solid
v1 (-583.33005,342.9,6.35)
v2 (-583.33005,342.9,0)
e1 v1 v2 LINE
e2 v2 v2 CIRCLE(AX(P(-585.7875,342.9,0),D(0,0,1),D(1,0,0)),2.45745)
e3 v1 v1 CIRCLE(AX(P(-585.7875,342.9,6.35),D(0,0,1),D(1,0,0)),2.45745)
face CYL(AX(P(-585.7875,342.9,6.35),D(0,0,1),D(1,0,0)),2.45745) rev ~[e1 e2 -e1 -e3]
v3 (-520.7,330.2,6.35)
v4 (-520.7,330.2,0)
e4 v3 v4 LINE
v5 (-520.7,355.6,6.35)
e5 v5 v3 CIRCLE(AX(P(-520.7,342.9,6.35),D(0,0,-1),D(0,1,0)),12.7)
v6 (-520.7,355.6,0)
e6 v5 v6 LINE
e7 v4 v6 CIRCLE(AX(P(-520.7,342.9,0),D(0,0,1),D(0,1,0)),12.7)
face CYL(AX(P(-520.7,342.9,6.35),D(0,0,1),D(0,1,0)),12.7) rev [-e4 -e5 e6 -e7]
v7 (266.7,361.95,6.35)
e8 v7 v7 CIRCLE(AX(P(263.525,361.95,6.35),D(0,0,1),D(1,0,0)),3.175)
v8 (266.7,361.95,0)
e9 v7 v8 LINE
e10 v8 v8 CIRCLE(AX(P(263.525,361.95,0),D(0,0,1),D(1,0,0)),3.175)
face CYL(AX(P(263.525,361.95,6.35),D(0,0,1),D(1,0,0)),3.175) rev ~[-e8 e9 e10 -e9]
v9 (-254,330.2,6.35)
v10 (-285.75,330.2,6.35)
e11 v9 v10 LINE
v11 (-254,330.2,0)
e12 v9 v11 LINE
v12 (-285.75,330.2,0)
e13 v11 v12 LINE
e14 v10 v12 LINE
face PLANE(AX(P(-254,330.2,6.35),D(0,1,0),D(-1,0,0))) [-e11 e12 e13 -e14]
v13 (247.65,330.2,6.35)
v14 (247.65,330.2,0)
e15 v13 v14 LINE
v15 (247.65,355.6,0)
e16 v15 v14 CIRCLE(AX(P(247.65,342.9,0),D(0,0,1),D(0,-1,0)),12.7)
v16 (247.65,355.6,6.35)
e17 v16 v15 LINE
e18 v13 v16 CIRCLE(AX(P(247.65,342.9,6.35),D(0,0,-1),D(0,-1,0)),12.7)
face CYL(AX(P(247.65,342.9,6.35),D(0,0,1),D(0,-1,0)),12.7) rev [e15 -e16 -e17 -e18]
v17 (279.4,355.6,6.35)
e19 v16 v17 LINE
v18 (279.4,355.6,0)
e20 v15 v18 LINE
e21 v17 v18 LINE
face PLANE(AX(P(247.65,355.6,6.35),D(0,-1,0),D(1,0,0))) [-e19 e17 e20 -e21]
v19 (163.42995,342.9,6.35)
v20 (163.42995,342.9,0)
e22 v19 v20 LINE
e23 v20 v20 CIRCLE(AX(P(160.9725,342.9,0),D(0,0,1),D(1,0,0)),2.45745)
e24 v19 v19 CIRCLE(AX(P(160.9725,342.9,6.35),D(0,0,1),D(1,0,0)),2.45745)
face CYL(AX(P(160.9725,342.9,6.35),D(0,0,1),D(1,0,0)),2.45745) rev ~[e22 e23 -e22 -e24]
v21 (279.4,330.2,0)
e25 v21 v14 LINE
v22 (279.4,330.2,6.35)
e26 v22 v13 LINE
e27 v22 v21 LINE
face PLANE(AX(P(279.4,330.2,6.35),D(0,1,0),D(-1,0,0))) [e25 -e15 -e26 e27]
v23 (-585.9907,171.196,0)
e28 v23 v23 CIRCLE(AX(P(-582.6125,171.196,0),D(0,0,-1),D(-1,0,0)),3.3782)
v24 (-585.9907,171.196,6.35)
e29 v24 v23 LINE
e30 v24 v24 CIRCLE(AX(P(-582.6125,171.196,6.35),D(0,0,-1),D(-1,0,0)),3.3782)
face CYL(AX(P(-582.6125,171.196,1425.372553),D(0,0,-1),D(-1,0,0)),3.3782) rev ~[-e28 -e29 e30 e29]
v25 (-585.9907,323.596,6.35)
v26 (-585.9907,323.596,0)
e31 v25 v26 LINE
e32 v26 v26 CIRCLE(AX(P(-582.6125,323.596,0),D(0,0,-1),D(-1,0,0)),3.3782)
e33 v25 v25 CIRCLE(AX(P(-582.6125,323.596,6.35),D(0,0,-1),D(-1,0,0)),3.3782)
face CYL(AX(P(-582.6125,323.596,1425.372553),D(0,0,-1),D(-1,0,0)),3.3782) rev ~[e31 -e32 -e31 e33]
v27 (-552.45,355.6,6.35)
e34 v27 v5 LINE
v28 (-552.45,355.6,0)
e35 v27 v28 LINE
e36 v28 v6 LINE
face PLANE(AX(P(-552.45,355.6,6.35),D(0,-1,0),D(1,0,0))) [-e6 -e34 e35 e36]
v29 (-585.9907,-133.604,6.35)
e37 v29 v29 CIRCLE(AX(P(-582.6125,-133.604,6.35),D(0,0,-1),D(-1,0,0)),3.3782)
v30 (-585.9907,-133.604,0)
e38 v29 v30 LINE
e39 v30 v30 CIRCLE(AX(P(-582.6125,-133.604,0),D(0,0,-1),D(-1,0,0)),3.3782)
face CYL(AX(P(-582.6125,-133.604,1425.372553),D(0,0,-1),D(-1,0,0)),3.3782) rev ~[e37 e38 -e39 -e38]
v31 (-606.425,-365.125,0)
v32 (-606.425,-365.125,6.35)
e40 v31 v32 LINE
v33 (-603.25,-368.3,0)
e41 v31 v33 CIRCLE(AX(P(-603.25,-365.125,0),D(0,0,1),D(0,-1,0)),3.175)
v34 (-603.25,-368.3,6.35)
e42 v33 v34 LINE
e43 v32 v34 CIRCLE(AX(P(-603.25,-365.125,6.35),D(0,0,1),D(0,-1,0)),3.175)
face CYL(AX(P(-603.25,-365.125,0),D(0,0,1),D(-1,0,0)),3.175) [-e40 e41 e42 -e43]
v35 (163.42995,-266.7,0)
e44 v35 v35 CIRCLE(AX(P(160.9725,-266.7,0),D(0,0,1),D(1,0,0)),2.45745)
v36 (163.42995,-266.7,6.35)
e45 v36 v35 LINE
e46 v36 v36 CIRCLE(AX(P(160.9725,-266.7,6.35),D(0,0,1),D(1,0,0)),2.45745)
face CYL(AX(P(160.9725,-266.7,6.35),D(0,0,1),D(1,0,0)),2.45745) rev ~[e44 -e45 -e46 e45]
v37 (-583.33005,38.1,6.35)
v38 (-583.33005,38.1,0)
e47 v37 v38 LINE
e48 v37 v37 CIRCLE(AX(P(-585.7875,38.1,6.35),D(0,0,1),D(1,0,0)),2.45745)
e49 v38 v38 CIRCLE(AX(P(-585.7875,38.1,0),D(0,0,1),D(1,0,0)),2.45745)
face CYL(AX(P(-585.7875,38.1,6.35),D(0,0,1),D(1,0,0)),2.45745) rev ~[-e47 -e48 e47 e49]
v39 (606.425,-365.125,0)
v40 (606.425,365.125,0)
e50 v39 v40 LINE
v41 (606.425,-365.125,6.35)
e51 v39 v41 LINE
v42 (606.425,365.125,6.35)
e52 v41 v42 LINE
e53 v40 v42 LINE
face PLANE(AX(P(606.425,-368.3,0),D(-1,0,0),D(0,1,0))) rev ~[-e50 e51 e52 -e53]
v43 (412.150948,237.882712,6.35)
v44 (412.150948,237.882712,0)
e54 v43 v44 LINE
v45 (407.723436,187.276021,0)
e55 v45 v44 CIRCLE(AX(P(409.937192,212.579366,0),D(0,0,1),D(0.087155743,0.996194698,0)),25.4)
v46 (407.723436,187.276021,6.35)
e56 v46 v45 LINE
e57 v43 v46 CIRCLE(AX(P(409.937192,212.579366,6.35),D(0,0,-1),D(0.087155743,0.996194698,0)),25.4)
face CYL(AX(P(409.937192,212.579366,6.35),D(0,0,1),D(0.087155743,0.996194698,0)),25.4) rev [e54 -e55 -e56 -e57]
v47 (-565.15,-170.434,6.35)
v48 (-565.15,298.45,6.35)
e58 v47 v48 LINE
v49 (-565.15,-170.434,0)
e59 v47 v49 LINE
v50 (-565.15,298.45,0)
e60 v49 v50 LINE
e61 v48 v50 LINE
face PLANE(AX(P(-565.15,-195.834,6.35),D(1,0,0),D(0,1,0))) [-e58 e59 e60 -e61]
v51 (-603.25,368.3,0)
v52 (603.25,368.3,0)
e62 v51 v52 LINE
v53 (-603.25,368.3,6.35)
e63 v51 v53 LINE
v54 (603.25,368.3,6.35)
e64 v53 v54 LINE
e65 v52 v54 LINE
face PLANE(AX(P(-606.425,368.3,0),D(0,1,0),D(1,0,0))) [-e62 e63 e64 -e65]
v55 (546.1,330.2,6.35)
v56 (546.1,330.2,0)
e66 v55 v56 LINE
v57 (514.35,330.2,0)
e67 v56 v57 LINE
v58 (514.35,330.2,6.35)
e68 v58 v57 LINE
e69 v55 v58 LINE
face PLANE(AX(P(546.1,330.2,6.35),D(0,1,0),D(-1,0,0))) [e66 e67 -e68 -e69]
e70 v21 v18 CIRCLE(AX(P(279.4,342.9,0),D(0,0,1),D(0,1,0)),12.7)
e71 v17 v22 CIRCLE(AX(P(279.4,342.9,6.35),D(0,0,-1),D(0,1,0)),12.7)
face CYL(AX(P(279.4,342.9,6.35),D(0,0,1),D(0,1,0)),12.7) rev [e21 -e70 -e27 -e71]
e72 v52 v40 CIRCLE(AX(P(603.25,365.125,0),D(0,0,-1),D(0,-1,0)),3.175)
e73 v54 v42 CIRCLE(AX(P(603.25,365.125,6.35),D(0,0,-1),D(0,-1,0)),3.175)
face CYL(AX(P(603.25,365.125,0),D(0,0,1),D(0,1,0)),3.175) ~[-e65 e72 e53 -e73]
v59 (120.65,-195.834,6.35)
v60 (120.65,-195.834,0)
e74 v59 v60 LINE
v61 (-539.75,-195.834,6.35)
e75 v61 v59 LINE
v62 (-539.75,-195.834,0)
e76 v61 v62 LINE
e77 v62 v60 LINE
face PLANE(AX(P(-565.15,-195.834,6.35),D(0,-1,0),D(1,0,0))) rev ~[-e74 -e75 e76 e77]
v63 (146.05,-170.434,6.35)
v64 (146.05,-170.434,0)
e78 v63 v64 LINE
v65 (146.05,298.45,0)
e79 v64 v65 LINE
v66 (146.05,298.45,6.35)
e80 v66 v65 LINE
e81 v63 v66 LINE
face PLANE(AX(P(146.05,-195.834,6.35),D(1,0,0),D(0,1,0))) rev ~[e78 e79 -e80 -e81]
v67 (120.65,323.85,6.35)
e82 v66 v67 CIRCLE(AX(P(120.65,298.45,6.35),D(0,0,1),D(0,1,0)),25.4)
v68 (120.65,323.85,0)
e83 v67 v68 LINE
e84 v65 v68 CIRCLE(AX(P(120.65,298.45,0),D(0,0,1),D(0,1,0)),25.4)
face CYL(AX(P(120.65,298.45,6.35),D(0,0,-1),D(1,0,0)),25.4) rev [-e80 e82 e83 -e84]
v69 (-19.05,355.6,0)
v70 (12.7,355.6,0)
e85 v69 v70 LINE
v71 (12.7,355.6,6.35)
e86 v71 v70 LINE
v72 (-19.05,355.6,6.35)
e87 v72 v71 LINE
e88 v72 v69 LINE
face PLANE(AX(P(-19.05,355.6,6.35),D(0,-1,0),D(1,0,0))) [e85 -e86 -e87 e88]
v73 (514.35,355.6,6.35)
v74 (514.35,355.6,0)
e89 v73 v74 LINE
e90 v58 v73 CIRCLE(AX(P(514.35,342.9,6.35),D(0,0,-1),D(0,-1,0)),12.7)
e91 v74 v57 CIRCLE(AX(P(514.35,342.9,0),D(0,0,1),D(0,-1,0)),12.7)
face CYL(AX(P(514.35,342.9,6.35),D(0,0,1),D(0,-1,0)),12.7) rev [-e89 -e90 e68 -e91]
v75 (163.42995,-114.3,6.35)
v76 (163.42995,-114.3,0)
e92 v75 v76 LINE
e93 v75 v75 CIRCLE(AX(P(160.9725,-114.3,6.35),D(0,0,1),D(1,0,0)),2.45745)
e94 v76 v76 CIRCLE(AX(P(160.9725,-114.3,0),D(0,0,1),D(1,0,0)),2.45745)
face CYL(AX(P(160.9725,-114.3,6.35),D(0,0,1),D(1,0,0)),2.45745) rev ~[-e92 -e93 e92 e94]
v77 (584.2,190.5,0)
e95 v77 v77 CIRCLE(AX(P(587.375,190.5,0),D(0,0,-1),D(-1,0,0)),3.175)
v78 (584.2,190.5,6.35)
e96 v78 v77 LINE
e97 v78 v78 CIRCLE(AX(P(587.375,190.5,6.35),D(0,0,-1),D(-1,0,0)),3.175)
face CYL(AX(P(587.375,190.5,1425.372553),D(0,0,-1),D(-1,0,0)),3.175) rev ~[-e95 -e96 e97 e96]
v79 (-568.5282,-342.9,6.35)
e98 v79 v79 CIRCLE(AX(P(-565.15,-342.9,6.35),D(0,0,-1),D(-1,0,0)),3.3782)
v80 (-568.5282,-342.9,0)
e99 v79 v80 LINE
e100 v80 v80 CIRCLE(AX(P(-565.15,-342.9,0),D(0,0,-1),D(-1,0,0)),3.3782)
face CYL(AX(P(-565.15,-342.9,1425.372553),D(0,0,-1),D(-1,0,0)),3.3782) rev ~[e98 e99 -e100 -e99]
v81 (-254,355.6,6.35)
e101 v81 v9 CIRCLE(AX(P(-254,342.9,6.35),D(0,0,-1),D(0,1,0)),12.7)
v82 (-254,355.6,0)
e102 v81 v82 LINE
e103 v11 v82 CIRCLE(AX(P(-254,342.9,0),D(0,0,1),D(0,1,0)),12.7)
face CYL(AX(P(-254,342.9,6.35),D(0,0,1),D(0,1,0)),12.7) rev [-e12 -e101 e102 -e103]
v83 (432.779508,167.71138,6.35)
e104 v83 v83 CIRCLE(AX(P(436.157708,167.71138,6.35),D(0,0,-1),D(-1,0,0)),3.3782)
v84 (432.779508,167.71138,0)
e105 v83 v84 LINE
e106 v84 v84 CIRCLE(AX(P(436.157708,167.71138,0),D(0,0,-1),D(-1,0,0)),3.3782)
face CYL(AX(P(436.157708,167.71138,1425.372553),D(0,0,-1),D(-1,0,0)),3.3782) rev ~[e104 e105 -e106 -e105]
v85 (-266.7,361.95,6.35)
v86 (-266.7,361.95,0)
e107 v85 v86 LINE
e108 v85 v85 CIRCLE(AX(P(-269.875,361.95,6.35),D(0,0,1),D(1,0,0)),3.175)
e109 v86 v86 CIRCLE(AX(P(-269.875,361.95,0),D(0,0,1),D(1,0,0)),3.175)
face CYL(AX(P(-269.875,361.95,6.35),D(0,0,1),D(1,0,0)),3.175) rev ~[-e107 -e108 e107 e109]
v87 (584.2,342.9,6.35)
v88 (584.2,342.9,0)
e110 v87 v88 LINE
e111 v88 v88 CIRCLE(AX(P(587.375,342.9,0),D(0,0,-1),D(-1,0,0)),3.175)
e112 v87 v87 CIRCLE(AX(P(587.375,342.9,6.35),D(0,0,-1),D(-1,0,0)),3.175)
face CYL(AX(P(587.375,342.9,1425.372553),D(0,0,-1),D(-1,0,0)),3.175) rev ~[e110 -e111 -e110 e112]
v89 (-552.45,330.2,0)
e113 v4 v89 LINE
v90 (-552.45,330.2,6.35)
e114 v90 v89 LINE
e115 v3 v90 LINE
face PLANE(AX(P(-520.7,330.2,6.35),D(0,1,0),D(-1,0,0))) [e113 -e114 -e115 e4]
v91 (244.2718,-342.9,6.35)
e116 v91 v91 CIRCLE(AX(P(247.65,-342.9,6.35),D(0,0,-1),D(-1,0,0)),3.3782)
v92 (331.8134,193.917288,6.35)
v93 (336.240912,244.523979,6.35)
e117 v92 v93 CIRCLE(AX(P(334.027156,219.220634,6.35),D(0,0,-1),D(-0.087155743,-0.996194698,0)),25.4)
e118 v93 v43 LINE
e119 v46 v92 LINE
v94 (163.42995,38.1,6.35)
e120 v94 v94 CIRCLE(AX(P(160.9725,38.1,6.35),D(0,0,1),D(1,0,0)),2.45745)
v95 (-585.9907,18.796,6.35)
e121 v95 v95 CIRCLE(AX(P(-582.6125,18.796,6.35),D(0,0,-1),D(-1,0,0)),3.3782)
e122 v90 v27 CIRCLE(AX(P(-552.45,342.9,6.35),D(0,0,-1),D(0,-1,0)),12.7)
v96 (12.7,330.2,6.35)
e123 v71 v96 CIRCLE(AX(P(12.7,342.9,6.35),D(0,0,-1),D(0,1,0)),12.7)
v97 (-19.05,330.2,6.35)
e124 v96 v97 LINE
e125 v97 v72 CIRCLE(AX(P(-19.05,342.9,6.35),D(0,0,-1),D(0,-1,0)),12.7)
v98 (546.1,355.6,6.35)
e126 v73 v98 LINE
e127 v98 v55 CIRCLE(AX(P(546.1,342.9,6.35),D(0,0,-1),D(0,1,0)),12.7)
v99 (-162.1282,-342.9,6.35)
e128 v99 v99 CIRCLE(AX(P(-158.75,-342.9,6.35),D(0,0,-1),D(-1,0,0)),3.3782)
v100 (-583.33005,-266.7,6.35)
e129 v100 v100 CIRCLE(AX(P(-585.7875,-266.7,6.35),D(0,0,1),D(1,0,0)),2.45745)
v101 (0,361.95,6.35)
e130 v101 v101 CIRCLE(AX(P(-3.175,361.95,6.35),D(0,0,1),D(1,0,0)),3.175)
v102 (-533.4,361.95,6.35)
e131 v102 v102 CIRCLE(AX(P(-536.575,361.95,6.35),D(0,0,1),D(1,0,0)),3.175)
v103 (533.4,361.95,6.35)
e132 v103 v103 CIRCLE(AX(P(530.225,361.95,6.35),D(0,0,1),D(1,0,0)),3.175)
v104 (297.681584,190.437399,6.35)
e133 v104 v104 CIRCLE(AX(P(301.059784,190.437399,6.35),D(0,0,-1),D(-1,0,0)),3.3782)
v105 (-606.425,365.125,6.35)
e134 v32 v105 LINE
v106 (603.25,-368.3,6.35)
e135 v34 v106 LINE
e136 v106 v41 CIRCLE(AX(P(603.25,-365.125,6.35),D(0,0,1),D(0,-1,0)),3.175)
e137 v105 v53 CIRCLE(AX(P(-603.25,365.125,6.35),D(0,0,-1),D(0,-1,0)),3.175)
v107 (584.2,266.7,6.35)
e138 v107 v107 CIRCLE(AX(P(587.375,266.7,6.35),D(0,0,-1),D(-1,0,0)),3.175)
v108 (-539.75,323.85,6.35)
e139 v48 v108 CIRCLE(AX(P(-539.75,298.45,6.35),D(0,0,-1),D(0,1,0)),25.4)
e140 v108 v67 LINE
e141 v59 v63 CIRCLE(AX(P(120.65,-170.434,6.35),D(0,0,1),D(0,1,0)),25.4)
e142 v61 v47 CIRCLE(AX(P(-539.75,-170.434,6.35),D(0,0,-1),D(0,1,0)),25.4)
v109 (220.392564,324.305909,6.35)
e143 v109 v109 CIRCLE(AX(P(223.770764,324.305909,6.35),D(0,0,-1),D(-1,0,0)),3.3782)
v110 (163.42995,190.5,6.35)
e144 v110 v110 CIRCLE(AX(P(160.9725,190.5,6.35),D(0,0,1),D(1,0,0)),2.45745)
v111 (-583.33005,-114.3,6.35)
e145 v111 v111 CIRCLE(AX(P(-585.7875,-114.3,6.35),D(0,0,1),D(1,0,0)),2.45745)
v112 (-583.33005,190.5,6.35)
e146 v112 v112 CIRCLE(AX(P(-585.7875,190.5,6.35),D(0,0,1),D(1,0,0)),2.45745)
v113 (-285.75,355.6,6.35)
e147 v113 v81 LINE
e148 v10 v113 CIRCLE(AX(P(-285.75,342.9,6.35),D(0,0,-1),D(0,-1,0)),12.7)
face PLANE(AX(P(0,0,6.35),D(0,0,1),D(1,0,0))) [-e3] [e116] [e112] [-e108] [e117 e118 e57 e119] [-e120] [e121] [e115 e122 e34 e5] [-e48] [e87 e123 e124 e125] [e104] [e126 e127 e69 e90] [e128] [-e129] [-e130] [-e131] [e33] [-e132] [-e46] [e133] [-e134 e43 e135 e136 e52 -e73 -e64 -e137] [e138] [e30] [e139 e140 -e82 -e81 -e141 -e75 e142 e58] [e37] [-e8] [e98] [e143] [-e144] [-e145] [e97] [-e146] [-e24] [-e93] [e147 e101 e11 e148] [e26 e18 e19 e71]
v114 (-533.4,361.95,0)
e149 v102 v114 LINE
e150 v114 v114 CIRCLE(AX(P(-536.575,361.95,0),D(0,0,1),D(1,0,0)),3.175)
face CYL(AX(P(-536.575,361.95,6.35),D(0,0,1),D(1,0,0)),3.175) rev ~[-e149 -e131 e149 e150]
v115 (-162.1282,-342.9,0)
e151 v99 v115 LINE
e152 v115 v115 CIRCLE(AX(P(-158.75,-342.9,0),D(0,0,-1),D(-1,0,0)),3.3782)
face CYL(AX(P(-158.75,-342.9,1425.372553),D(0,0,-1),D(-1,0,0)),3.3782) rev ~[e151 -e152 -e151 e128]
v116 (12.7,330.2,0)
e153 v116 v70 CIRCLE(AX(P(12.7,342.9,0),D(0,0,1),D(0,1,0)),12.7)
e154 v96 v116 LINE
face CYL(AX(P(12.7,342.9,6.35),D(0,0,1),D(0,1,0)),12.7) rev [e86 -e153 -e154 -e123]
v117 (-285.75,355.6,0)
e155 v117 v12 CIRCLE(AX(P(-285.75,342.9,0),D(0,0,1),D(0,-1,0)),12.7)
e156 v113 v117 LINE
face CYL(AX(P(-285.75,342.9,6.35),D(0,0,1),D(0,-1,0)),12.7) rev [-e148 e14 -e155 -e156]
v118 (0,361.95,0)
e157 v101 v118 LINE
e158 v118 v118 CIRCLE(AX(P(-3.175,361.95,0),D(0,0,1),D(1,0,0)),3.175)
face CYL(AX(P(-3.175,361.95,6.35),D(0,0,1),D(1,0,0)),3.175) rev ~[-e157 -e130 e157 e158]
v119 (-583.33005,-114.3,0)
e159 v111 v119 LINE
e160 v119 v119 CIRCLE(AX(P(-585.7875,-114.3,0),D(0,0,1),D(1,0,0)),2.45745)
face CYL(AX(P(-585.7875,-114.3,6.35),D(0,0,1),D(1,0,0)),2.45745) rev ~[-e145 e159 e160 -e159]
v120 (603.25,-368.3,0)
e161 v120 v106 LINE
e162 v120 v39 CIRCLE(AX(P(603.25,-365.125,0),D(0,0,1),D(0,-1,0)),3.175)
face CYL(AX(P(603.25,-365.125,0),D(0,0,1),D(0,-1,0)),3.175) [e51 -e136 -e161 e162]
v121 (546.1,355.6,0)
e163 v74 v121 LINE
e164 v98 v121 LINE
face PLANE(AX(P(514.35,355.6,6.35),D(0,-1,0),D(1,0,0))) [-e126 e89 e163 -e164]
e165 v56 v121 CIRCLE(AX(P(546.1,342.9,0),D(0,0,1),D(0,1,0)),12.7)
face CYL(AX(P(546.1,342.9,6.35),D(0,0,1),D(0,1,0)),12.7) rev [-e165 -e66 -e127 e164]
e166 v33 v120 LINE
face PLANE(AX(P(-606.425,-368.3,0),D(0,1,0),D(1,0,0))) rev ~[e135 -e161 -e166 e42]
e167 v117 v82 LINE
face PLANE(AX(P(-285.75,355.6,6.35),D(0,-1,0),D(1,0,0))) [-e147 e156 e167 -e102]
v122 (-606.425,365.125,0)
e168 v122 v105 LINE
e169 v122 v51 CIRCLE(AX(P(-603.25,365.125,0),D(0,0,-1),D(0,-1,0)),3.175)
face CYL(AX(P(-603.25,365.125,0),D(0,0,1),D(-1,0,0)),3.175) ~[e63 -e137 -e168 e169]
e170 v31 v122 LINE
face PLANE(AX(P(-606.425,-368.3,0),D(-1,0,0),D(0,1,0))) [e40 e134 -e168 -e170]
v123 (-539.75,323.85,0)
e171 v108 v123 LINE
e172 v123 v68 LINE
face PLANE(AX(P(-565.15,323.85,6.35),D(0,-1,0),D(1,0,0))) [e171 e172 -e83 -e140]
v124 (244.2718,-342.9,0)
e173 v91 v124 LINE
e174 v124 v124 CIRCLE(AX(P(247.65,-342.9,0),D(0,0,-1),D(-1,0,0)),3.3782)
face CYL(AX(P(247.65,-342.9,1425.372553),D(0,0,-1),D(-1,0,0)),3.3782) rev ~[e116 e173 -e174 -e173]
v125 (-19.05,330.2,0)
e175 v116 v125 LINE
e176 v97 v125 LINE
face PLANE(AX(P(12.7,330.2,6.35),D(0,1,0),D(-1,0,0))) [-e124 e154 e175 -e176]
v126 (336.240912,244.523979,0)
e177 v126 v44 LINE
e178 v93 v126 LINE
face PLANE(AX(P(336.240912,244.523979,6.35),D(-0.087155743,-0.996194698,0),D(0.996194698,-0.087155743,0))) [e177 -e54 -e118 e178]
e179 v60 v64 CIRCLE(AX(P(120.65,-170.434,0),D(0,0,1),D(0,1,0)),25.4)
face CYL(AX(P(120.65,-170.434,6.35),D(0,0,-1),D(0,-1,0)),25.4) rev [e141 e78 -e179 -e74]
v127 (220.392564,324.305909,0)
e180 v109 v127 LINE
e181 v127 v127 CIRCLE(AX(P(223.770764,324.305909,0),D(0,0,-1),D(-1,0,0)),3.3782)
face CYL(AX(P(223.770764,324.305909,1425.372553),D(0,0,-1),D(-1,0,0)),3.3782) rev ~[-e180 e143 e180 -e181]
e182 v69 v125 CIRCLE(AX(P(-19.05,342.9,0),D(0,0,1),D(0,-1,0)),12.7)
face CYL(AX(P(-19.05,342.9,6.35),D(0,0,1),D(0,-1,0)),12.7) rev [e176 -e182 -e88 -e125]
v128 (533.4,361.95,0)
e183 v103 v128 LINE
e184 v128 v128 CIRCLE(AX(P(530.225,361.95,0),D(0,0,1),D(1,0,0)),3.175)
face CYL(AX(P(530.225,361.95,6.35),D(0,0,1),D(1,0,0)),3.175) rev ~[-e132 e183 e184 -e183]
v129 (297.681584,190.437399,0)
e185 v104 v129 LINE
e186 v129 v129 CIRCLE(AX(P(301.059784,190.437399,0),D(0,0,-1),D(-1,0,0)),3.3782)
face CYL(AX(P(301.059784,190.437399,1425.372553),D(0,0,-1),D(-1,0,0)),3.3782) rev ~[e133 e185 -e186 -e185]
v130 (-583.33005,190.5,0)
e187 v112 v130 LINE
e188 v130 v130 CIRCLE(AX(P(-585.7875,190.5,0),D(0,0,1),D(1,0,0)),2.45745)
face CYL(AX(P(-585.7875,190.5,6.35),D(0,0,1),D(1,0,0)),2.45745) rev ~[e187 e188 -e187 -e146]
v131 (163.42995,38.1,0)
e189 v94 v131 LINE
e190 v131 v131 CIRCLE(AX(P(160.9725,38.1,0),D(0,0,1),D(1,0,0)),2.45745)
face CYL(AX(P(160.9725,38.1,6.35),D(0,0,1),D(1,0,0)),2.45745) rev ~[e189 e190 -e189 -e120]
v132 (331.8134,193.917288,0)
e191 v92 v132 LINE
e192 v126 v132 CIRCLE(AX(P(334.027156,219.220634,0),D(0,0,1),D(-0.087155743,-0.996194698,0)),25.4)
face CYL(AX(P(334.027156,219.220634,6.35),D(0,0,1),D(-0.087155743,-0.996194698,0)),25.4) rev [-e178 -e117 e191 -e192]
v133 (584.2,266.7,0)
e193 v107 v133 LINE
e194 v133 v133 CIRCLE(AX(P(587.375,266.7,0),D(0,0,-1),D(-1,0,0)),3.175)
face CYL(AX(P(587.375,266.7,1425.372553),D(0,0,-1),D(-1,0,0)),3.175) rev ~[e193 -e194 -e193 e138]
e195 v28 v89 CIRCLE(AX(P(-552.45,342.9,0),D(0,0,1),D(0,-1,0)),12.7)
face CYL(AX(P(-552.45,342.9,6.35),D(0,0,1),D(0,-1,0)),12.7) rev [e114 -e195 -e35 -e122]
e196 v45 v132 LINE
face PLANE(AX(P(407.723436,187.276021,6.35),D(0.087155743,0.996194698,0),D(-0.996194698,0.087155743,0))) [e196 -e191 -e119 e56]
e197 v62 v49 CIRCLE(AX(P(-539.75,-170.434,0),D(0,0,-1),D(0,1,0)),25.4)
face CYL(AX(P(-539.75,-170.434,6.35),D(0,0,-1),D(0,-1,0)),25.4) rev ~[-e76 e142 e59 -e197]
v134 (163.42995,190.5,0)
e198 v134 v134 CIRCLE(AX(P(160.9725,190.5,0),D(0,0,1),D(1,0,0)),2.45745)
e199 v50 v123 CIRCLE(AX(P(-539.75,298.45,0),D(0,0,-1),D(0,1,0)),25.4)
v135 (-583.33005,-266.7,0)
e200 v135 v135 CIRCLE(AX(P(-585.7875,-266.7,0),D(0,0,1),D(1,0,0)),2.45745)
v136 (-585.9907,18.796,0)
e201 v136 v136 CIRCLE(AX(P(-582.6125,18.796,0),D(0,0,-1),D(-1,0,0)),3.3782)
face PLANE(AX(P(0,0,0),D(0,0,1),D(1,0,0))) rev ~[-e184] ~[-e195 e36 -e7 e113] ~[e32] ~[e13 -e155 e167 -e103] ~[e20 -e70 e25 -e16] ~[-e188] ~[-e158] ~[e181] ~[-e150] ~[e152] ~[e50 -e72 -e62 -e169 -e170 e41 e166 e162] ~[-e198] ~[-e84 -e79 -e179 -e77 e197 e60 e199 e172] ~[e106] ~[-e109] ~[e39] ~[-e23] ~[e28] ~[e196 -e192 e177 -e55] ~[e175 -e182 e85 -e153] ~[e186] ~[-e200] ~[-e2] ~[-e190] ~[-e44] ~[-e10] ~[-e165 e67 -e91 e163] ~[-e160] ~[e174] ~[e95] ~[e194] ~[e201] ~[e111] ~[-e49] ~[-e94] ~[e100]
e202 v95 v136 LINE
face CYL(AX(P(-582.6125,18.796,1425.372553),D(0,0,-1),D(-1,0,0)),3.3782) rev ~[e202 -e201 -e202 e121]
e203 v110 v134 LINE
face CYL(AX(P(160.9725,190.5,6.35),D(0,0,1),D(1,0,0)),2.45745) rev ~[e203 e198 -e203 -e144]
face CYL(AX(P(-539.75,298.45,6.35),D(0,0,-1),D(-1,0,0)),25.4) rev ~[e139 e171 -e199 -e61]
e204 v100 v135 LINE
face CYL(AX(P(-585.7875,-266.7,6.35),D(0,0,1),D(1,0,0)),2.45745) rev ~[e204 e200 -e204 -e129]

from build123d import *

# Parameters (mm, degrees)
SKETCH1_W                   = 1212.85
SKETCH1_H                   = 736.6
BOSS_EXTRUDE1_DEPTH         = 6.35
H_0_266_DIAMETER_HOLE1_D    = 6.7564
SKETCH2_R                   = 2.45745
SKETCH2_W                   = 711.2
SKETCH2_H                   = 519.684
CUT_EXTRUDE1_DEPTH          = 7.35
H_0_266_DIAMETER_HOLE2_D    = 6.7564
H_0_266_DIAMETER_HOLE3_D    = 6.7564
SKETCH12_R                  = 3.175
CUT_EXTRUDE4_DEPTH          = 7.35
LPATTERN1_COUNT             = 5
LPATTERN1_PITCH             = 266.7
FILLET1_R                   = 3.175
CUT_EXTRUDE5_DEPTH          = 7.35
F_1_4_0_25_DIAMETER_HOLE1_D = 6.35
FILLET2_R                   = 25.4


with BuildPart() as part:
    # Sketch1 → Boss-Extrude1 (new body)
    with BuildSketch(Plane.XY):
        Rectangle(SKETCH1_W, SKETCH1_H)
    extrude(amount=BOSS_EXTRUDE1_DEPTH)

    # H (0.266) Diameter Hole1 (through all)
    with Locations(Plane.XY.offset(6.35)):
        with Locations((-565.15, -342.9), (-158.75, -342.9), (247.65, -342.9)):
            Hole(H_0_266_DIAMETER_HOLE1_D / 2)

    # Sketch2 → Cut-Extrude1 (cut, through all)
    with BuildSketch(Plane.XY.offset(6.35)):
        with Locations((-585.7875, 342.9)):
            Circle(SKETCH2_R)
        with Locations((-585.7875, 190.5)):
            Circle(SKETCH2_R)
        with Locations((-585.7875, 38.1)):
            Circle(SKETCH2_R)
        with Locations((-585.7875, -114.3)):
            Circle(SKETCH2_R)
        with Locations((-585.7875, -266.7)):
            Circle(SKETCH2_R)
        with Locations((160.9725, -266.7)):
            Circle(SKETCH2_R)
        with Locations((160.9725, -114.3)):
            Circle(SKETCH2_R)
        with Locations((160.9725, 38.1)):
            Circle(SKETCH2_R)
        with Locations((160.9725, 190.5)):
            Circle(SKETCH2_R)
        with Locations((160.9725, 342.9)):
            Circle(SKETCH2_R)
        with Locations((-209.55, 64.008)):
            Rectangle(SKETCH2_W, SKETCH2_H)
    extrude(amount=-CUT_EXTRUDE1_DEPTH, mode=Mode.SUBTRACT)

    # H (0.266) Diameter Hole2 (through all)
    with Locations(Plane.XY.offset(6.35)):
        with Locations((-582.6125, 323.596), (-582.6125, 171.196), (-582.6125, 18.796), (-582.6125, -133.604)):
            Hole(H_0_266_DIAMETER_HOLE2_D / 2)

    # H (0.266) Diameter Hole3 (through all)
    with Locations(Plane.XY.offset(6.35)):
        with Locations((223.770763786, 324.305909426), (436.157707656, 167.711380391), (301.059784222, 190.437399182)):
            Hole(H_0_266_DIAMETER_HOLE3_D / 2)

    # Sketch12 → Cut-Extrude4 (cut, through all)
    with BuildSketch(Plane.XY.offset(6.35)):
        with Locations((-536.575, 361.95)):
            Circle(SKETCH12_R)
        with BuildLine():
            Line((-552.45, 355.6), (-520.7, 355.6))
            ThreePointArc((-520.7, 355.6), (-508, 342.9), (-520.7, 330.2))
            Line((-520.7, 330.2), (-552.45, 330.2))
            ThreePointArc((-552.45, 330.2), (-565.15, 342.9), (-552.45, 355.6))
        make_face()
    cut_extrude4 = extrude(amount=-CUT_EXTRUDE4_DEPTH, mode=Mode.SUBTRACT)

    # LPattern1: Cut-Extrude4 ×5
    with Locations(*[(i * LPATTERN1_PITCH, 0, 0) for i in range(1, LPATTERN1_COUNT)]):
        add(cut_extrude4, mode=Mode.SUBTRACT)

    # Fillet1
    fillet1_edges = [part.edges().sort_by_distance(p)[0] for p in [
        (606.425, -368.3, 3.175),
        (-606.425, -368.3, 3.175),
        (-606.425, 368.3, 3.175),
        (606.425, 368.3, 3.175),
    ]]
    fillet(fillet1_edges, radius=FILLET1_R)

    # Sketch14 → Cut-Extrude5 (cut, through all)
    with BuildSketch(Plane.XY.offset(6.35)):
        with BuildLine():
            Line((336.240912114, 244.52397913), (412.150948109, 237.882711533))
            ThreePointArc((412.150948109, 237.882711533), (435.240537575, 210.365610336), (407.723436378, 187.27602087))
            Line((407.723436378, 187.27602087), (331.813400383, 193.917288467))
            ThreePointArc((331.813400383, 193.917288467), (308.723810917, 221.434389664), (336.240912114, 244.52397913))
        make_face()
    extrude(amount=-CUT_EXTRUDE5_DEPTH, mode=Mode.SUBTRACT)

    # 1/4 (0.25) Diameter Hole1 (through all)
    with Locations(Plane.XY.offset(6.35)):
        with Locations((587.375, 342.9), (587.375, 266.7), (587.375, 190.5)):
            Hole(F_1_4_0_25_DIAMETER_HOLE1_D / 2)

    # Fillet2
    fillet2_edges = [part.edges().sort_by_distance(p)[0] for p in [
        (-565.15, -195.834, 3.175),
        (-565.15, 323.85, 3.175),
        (146.05, 323.85, 3.175),
        (146.05, -195.834, 3.175),
    ]]
    fillet(fillet2_edges, radius=FILLET2_R)


solid = part.part
